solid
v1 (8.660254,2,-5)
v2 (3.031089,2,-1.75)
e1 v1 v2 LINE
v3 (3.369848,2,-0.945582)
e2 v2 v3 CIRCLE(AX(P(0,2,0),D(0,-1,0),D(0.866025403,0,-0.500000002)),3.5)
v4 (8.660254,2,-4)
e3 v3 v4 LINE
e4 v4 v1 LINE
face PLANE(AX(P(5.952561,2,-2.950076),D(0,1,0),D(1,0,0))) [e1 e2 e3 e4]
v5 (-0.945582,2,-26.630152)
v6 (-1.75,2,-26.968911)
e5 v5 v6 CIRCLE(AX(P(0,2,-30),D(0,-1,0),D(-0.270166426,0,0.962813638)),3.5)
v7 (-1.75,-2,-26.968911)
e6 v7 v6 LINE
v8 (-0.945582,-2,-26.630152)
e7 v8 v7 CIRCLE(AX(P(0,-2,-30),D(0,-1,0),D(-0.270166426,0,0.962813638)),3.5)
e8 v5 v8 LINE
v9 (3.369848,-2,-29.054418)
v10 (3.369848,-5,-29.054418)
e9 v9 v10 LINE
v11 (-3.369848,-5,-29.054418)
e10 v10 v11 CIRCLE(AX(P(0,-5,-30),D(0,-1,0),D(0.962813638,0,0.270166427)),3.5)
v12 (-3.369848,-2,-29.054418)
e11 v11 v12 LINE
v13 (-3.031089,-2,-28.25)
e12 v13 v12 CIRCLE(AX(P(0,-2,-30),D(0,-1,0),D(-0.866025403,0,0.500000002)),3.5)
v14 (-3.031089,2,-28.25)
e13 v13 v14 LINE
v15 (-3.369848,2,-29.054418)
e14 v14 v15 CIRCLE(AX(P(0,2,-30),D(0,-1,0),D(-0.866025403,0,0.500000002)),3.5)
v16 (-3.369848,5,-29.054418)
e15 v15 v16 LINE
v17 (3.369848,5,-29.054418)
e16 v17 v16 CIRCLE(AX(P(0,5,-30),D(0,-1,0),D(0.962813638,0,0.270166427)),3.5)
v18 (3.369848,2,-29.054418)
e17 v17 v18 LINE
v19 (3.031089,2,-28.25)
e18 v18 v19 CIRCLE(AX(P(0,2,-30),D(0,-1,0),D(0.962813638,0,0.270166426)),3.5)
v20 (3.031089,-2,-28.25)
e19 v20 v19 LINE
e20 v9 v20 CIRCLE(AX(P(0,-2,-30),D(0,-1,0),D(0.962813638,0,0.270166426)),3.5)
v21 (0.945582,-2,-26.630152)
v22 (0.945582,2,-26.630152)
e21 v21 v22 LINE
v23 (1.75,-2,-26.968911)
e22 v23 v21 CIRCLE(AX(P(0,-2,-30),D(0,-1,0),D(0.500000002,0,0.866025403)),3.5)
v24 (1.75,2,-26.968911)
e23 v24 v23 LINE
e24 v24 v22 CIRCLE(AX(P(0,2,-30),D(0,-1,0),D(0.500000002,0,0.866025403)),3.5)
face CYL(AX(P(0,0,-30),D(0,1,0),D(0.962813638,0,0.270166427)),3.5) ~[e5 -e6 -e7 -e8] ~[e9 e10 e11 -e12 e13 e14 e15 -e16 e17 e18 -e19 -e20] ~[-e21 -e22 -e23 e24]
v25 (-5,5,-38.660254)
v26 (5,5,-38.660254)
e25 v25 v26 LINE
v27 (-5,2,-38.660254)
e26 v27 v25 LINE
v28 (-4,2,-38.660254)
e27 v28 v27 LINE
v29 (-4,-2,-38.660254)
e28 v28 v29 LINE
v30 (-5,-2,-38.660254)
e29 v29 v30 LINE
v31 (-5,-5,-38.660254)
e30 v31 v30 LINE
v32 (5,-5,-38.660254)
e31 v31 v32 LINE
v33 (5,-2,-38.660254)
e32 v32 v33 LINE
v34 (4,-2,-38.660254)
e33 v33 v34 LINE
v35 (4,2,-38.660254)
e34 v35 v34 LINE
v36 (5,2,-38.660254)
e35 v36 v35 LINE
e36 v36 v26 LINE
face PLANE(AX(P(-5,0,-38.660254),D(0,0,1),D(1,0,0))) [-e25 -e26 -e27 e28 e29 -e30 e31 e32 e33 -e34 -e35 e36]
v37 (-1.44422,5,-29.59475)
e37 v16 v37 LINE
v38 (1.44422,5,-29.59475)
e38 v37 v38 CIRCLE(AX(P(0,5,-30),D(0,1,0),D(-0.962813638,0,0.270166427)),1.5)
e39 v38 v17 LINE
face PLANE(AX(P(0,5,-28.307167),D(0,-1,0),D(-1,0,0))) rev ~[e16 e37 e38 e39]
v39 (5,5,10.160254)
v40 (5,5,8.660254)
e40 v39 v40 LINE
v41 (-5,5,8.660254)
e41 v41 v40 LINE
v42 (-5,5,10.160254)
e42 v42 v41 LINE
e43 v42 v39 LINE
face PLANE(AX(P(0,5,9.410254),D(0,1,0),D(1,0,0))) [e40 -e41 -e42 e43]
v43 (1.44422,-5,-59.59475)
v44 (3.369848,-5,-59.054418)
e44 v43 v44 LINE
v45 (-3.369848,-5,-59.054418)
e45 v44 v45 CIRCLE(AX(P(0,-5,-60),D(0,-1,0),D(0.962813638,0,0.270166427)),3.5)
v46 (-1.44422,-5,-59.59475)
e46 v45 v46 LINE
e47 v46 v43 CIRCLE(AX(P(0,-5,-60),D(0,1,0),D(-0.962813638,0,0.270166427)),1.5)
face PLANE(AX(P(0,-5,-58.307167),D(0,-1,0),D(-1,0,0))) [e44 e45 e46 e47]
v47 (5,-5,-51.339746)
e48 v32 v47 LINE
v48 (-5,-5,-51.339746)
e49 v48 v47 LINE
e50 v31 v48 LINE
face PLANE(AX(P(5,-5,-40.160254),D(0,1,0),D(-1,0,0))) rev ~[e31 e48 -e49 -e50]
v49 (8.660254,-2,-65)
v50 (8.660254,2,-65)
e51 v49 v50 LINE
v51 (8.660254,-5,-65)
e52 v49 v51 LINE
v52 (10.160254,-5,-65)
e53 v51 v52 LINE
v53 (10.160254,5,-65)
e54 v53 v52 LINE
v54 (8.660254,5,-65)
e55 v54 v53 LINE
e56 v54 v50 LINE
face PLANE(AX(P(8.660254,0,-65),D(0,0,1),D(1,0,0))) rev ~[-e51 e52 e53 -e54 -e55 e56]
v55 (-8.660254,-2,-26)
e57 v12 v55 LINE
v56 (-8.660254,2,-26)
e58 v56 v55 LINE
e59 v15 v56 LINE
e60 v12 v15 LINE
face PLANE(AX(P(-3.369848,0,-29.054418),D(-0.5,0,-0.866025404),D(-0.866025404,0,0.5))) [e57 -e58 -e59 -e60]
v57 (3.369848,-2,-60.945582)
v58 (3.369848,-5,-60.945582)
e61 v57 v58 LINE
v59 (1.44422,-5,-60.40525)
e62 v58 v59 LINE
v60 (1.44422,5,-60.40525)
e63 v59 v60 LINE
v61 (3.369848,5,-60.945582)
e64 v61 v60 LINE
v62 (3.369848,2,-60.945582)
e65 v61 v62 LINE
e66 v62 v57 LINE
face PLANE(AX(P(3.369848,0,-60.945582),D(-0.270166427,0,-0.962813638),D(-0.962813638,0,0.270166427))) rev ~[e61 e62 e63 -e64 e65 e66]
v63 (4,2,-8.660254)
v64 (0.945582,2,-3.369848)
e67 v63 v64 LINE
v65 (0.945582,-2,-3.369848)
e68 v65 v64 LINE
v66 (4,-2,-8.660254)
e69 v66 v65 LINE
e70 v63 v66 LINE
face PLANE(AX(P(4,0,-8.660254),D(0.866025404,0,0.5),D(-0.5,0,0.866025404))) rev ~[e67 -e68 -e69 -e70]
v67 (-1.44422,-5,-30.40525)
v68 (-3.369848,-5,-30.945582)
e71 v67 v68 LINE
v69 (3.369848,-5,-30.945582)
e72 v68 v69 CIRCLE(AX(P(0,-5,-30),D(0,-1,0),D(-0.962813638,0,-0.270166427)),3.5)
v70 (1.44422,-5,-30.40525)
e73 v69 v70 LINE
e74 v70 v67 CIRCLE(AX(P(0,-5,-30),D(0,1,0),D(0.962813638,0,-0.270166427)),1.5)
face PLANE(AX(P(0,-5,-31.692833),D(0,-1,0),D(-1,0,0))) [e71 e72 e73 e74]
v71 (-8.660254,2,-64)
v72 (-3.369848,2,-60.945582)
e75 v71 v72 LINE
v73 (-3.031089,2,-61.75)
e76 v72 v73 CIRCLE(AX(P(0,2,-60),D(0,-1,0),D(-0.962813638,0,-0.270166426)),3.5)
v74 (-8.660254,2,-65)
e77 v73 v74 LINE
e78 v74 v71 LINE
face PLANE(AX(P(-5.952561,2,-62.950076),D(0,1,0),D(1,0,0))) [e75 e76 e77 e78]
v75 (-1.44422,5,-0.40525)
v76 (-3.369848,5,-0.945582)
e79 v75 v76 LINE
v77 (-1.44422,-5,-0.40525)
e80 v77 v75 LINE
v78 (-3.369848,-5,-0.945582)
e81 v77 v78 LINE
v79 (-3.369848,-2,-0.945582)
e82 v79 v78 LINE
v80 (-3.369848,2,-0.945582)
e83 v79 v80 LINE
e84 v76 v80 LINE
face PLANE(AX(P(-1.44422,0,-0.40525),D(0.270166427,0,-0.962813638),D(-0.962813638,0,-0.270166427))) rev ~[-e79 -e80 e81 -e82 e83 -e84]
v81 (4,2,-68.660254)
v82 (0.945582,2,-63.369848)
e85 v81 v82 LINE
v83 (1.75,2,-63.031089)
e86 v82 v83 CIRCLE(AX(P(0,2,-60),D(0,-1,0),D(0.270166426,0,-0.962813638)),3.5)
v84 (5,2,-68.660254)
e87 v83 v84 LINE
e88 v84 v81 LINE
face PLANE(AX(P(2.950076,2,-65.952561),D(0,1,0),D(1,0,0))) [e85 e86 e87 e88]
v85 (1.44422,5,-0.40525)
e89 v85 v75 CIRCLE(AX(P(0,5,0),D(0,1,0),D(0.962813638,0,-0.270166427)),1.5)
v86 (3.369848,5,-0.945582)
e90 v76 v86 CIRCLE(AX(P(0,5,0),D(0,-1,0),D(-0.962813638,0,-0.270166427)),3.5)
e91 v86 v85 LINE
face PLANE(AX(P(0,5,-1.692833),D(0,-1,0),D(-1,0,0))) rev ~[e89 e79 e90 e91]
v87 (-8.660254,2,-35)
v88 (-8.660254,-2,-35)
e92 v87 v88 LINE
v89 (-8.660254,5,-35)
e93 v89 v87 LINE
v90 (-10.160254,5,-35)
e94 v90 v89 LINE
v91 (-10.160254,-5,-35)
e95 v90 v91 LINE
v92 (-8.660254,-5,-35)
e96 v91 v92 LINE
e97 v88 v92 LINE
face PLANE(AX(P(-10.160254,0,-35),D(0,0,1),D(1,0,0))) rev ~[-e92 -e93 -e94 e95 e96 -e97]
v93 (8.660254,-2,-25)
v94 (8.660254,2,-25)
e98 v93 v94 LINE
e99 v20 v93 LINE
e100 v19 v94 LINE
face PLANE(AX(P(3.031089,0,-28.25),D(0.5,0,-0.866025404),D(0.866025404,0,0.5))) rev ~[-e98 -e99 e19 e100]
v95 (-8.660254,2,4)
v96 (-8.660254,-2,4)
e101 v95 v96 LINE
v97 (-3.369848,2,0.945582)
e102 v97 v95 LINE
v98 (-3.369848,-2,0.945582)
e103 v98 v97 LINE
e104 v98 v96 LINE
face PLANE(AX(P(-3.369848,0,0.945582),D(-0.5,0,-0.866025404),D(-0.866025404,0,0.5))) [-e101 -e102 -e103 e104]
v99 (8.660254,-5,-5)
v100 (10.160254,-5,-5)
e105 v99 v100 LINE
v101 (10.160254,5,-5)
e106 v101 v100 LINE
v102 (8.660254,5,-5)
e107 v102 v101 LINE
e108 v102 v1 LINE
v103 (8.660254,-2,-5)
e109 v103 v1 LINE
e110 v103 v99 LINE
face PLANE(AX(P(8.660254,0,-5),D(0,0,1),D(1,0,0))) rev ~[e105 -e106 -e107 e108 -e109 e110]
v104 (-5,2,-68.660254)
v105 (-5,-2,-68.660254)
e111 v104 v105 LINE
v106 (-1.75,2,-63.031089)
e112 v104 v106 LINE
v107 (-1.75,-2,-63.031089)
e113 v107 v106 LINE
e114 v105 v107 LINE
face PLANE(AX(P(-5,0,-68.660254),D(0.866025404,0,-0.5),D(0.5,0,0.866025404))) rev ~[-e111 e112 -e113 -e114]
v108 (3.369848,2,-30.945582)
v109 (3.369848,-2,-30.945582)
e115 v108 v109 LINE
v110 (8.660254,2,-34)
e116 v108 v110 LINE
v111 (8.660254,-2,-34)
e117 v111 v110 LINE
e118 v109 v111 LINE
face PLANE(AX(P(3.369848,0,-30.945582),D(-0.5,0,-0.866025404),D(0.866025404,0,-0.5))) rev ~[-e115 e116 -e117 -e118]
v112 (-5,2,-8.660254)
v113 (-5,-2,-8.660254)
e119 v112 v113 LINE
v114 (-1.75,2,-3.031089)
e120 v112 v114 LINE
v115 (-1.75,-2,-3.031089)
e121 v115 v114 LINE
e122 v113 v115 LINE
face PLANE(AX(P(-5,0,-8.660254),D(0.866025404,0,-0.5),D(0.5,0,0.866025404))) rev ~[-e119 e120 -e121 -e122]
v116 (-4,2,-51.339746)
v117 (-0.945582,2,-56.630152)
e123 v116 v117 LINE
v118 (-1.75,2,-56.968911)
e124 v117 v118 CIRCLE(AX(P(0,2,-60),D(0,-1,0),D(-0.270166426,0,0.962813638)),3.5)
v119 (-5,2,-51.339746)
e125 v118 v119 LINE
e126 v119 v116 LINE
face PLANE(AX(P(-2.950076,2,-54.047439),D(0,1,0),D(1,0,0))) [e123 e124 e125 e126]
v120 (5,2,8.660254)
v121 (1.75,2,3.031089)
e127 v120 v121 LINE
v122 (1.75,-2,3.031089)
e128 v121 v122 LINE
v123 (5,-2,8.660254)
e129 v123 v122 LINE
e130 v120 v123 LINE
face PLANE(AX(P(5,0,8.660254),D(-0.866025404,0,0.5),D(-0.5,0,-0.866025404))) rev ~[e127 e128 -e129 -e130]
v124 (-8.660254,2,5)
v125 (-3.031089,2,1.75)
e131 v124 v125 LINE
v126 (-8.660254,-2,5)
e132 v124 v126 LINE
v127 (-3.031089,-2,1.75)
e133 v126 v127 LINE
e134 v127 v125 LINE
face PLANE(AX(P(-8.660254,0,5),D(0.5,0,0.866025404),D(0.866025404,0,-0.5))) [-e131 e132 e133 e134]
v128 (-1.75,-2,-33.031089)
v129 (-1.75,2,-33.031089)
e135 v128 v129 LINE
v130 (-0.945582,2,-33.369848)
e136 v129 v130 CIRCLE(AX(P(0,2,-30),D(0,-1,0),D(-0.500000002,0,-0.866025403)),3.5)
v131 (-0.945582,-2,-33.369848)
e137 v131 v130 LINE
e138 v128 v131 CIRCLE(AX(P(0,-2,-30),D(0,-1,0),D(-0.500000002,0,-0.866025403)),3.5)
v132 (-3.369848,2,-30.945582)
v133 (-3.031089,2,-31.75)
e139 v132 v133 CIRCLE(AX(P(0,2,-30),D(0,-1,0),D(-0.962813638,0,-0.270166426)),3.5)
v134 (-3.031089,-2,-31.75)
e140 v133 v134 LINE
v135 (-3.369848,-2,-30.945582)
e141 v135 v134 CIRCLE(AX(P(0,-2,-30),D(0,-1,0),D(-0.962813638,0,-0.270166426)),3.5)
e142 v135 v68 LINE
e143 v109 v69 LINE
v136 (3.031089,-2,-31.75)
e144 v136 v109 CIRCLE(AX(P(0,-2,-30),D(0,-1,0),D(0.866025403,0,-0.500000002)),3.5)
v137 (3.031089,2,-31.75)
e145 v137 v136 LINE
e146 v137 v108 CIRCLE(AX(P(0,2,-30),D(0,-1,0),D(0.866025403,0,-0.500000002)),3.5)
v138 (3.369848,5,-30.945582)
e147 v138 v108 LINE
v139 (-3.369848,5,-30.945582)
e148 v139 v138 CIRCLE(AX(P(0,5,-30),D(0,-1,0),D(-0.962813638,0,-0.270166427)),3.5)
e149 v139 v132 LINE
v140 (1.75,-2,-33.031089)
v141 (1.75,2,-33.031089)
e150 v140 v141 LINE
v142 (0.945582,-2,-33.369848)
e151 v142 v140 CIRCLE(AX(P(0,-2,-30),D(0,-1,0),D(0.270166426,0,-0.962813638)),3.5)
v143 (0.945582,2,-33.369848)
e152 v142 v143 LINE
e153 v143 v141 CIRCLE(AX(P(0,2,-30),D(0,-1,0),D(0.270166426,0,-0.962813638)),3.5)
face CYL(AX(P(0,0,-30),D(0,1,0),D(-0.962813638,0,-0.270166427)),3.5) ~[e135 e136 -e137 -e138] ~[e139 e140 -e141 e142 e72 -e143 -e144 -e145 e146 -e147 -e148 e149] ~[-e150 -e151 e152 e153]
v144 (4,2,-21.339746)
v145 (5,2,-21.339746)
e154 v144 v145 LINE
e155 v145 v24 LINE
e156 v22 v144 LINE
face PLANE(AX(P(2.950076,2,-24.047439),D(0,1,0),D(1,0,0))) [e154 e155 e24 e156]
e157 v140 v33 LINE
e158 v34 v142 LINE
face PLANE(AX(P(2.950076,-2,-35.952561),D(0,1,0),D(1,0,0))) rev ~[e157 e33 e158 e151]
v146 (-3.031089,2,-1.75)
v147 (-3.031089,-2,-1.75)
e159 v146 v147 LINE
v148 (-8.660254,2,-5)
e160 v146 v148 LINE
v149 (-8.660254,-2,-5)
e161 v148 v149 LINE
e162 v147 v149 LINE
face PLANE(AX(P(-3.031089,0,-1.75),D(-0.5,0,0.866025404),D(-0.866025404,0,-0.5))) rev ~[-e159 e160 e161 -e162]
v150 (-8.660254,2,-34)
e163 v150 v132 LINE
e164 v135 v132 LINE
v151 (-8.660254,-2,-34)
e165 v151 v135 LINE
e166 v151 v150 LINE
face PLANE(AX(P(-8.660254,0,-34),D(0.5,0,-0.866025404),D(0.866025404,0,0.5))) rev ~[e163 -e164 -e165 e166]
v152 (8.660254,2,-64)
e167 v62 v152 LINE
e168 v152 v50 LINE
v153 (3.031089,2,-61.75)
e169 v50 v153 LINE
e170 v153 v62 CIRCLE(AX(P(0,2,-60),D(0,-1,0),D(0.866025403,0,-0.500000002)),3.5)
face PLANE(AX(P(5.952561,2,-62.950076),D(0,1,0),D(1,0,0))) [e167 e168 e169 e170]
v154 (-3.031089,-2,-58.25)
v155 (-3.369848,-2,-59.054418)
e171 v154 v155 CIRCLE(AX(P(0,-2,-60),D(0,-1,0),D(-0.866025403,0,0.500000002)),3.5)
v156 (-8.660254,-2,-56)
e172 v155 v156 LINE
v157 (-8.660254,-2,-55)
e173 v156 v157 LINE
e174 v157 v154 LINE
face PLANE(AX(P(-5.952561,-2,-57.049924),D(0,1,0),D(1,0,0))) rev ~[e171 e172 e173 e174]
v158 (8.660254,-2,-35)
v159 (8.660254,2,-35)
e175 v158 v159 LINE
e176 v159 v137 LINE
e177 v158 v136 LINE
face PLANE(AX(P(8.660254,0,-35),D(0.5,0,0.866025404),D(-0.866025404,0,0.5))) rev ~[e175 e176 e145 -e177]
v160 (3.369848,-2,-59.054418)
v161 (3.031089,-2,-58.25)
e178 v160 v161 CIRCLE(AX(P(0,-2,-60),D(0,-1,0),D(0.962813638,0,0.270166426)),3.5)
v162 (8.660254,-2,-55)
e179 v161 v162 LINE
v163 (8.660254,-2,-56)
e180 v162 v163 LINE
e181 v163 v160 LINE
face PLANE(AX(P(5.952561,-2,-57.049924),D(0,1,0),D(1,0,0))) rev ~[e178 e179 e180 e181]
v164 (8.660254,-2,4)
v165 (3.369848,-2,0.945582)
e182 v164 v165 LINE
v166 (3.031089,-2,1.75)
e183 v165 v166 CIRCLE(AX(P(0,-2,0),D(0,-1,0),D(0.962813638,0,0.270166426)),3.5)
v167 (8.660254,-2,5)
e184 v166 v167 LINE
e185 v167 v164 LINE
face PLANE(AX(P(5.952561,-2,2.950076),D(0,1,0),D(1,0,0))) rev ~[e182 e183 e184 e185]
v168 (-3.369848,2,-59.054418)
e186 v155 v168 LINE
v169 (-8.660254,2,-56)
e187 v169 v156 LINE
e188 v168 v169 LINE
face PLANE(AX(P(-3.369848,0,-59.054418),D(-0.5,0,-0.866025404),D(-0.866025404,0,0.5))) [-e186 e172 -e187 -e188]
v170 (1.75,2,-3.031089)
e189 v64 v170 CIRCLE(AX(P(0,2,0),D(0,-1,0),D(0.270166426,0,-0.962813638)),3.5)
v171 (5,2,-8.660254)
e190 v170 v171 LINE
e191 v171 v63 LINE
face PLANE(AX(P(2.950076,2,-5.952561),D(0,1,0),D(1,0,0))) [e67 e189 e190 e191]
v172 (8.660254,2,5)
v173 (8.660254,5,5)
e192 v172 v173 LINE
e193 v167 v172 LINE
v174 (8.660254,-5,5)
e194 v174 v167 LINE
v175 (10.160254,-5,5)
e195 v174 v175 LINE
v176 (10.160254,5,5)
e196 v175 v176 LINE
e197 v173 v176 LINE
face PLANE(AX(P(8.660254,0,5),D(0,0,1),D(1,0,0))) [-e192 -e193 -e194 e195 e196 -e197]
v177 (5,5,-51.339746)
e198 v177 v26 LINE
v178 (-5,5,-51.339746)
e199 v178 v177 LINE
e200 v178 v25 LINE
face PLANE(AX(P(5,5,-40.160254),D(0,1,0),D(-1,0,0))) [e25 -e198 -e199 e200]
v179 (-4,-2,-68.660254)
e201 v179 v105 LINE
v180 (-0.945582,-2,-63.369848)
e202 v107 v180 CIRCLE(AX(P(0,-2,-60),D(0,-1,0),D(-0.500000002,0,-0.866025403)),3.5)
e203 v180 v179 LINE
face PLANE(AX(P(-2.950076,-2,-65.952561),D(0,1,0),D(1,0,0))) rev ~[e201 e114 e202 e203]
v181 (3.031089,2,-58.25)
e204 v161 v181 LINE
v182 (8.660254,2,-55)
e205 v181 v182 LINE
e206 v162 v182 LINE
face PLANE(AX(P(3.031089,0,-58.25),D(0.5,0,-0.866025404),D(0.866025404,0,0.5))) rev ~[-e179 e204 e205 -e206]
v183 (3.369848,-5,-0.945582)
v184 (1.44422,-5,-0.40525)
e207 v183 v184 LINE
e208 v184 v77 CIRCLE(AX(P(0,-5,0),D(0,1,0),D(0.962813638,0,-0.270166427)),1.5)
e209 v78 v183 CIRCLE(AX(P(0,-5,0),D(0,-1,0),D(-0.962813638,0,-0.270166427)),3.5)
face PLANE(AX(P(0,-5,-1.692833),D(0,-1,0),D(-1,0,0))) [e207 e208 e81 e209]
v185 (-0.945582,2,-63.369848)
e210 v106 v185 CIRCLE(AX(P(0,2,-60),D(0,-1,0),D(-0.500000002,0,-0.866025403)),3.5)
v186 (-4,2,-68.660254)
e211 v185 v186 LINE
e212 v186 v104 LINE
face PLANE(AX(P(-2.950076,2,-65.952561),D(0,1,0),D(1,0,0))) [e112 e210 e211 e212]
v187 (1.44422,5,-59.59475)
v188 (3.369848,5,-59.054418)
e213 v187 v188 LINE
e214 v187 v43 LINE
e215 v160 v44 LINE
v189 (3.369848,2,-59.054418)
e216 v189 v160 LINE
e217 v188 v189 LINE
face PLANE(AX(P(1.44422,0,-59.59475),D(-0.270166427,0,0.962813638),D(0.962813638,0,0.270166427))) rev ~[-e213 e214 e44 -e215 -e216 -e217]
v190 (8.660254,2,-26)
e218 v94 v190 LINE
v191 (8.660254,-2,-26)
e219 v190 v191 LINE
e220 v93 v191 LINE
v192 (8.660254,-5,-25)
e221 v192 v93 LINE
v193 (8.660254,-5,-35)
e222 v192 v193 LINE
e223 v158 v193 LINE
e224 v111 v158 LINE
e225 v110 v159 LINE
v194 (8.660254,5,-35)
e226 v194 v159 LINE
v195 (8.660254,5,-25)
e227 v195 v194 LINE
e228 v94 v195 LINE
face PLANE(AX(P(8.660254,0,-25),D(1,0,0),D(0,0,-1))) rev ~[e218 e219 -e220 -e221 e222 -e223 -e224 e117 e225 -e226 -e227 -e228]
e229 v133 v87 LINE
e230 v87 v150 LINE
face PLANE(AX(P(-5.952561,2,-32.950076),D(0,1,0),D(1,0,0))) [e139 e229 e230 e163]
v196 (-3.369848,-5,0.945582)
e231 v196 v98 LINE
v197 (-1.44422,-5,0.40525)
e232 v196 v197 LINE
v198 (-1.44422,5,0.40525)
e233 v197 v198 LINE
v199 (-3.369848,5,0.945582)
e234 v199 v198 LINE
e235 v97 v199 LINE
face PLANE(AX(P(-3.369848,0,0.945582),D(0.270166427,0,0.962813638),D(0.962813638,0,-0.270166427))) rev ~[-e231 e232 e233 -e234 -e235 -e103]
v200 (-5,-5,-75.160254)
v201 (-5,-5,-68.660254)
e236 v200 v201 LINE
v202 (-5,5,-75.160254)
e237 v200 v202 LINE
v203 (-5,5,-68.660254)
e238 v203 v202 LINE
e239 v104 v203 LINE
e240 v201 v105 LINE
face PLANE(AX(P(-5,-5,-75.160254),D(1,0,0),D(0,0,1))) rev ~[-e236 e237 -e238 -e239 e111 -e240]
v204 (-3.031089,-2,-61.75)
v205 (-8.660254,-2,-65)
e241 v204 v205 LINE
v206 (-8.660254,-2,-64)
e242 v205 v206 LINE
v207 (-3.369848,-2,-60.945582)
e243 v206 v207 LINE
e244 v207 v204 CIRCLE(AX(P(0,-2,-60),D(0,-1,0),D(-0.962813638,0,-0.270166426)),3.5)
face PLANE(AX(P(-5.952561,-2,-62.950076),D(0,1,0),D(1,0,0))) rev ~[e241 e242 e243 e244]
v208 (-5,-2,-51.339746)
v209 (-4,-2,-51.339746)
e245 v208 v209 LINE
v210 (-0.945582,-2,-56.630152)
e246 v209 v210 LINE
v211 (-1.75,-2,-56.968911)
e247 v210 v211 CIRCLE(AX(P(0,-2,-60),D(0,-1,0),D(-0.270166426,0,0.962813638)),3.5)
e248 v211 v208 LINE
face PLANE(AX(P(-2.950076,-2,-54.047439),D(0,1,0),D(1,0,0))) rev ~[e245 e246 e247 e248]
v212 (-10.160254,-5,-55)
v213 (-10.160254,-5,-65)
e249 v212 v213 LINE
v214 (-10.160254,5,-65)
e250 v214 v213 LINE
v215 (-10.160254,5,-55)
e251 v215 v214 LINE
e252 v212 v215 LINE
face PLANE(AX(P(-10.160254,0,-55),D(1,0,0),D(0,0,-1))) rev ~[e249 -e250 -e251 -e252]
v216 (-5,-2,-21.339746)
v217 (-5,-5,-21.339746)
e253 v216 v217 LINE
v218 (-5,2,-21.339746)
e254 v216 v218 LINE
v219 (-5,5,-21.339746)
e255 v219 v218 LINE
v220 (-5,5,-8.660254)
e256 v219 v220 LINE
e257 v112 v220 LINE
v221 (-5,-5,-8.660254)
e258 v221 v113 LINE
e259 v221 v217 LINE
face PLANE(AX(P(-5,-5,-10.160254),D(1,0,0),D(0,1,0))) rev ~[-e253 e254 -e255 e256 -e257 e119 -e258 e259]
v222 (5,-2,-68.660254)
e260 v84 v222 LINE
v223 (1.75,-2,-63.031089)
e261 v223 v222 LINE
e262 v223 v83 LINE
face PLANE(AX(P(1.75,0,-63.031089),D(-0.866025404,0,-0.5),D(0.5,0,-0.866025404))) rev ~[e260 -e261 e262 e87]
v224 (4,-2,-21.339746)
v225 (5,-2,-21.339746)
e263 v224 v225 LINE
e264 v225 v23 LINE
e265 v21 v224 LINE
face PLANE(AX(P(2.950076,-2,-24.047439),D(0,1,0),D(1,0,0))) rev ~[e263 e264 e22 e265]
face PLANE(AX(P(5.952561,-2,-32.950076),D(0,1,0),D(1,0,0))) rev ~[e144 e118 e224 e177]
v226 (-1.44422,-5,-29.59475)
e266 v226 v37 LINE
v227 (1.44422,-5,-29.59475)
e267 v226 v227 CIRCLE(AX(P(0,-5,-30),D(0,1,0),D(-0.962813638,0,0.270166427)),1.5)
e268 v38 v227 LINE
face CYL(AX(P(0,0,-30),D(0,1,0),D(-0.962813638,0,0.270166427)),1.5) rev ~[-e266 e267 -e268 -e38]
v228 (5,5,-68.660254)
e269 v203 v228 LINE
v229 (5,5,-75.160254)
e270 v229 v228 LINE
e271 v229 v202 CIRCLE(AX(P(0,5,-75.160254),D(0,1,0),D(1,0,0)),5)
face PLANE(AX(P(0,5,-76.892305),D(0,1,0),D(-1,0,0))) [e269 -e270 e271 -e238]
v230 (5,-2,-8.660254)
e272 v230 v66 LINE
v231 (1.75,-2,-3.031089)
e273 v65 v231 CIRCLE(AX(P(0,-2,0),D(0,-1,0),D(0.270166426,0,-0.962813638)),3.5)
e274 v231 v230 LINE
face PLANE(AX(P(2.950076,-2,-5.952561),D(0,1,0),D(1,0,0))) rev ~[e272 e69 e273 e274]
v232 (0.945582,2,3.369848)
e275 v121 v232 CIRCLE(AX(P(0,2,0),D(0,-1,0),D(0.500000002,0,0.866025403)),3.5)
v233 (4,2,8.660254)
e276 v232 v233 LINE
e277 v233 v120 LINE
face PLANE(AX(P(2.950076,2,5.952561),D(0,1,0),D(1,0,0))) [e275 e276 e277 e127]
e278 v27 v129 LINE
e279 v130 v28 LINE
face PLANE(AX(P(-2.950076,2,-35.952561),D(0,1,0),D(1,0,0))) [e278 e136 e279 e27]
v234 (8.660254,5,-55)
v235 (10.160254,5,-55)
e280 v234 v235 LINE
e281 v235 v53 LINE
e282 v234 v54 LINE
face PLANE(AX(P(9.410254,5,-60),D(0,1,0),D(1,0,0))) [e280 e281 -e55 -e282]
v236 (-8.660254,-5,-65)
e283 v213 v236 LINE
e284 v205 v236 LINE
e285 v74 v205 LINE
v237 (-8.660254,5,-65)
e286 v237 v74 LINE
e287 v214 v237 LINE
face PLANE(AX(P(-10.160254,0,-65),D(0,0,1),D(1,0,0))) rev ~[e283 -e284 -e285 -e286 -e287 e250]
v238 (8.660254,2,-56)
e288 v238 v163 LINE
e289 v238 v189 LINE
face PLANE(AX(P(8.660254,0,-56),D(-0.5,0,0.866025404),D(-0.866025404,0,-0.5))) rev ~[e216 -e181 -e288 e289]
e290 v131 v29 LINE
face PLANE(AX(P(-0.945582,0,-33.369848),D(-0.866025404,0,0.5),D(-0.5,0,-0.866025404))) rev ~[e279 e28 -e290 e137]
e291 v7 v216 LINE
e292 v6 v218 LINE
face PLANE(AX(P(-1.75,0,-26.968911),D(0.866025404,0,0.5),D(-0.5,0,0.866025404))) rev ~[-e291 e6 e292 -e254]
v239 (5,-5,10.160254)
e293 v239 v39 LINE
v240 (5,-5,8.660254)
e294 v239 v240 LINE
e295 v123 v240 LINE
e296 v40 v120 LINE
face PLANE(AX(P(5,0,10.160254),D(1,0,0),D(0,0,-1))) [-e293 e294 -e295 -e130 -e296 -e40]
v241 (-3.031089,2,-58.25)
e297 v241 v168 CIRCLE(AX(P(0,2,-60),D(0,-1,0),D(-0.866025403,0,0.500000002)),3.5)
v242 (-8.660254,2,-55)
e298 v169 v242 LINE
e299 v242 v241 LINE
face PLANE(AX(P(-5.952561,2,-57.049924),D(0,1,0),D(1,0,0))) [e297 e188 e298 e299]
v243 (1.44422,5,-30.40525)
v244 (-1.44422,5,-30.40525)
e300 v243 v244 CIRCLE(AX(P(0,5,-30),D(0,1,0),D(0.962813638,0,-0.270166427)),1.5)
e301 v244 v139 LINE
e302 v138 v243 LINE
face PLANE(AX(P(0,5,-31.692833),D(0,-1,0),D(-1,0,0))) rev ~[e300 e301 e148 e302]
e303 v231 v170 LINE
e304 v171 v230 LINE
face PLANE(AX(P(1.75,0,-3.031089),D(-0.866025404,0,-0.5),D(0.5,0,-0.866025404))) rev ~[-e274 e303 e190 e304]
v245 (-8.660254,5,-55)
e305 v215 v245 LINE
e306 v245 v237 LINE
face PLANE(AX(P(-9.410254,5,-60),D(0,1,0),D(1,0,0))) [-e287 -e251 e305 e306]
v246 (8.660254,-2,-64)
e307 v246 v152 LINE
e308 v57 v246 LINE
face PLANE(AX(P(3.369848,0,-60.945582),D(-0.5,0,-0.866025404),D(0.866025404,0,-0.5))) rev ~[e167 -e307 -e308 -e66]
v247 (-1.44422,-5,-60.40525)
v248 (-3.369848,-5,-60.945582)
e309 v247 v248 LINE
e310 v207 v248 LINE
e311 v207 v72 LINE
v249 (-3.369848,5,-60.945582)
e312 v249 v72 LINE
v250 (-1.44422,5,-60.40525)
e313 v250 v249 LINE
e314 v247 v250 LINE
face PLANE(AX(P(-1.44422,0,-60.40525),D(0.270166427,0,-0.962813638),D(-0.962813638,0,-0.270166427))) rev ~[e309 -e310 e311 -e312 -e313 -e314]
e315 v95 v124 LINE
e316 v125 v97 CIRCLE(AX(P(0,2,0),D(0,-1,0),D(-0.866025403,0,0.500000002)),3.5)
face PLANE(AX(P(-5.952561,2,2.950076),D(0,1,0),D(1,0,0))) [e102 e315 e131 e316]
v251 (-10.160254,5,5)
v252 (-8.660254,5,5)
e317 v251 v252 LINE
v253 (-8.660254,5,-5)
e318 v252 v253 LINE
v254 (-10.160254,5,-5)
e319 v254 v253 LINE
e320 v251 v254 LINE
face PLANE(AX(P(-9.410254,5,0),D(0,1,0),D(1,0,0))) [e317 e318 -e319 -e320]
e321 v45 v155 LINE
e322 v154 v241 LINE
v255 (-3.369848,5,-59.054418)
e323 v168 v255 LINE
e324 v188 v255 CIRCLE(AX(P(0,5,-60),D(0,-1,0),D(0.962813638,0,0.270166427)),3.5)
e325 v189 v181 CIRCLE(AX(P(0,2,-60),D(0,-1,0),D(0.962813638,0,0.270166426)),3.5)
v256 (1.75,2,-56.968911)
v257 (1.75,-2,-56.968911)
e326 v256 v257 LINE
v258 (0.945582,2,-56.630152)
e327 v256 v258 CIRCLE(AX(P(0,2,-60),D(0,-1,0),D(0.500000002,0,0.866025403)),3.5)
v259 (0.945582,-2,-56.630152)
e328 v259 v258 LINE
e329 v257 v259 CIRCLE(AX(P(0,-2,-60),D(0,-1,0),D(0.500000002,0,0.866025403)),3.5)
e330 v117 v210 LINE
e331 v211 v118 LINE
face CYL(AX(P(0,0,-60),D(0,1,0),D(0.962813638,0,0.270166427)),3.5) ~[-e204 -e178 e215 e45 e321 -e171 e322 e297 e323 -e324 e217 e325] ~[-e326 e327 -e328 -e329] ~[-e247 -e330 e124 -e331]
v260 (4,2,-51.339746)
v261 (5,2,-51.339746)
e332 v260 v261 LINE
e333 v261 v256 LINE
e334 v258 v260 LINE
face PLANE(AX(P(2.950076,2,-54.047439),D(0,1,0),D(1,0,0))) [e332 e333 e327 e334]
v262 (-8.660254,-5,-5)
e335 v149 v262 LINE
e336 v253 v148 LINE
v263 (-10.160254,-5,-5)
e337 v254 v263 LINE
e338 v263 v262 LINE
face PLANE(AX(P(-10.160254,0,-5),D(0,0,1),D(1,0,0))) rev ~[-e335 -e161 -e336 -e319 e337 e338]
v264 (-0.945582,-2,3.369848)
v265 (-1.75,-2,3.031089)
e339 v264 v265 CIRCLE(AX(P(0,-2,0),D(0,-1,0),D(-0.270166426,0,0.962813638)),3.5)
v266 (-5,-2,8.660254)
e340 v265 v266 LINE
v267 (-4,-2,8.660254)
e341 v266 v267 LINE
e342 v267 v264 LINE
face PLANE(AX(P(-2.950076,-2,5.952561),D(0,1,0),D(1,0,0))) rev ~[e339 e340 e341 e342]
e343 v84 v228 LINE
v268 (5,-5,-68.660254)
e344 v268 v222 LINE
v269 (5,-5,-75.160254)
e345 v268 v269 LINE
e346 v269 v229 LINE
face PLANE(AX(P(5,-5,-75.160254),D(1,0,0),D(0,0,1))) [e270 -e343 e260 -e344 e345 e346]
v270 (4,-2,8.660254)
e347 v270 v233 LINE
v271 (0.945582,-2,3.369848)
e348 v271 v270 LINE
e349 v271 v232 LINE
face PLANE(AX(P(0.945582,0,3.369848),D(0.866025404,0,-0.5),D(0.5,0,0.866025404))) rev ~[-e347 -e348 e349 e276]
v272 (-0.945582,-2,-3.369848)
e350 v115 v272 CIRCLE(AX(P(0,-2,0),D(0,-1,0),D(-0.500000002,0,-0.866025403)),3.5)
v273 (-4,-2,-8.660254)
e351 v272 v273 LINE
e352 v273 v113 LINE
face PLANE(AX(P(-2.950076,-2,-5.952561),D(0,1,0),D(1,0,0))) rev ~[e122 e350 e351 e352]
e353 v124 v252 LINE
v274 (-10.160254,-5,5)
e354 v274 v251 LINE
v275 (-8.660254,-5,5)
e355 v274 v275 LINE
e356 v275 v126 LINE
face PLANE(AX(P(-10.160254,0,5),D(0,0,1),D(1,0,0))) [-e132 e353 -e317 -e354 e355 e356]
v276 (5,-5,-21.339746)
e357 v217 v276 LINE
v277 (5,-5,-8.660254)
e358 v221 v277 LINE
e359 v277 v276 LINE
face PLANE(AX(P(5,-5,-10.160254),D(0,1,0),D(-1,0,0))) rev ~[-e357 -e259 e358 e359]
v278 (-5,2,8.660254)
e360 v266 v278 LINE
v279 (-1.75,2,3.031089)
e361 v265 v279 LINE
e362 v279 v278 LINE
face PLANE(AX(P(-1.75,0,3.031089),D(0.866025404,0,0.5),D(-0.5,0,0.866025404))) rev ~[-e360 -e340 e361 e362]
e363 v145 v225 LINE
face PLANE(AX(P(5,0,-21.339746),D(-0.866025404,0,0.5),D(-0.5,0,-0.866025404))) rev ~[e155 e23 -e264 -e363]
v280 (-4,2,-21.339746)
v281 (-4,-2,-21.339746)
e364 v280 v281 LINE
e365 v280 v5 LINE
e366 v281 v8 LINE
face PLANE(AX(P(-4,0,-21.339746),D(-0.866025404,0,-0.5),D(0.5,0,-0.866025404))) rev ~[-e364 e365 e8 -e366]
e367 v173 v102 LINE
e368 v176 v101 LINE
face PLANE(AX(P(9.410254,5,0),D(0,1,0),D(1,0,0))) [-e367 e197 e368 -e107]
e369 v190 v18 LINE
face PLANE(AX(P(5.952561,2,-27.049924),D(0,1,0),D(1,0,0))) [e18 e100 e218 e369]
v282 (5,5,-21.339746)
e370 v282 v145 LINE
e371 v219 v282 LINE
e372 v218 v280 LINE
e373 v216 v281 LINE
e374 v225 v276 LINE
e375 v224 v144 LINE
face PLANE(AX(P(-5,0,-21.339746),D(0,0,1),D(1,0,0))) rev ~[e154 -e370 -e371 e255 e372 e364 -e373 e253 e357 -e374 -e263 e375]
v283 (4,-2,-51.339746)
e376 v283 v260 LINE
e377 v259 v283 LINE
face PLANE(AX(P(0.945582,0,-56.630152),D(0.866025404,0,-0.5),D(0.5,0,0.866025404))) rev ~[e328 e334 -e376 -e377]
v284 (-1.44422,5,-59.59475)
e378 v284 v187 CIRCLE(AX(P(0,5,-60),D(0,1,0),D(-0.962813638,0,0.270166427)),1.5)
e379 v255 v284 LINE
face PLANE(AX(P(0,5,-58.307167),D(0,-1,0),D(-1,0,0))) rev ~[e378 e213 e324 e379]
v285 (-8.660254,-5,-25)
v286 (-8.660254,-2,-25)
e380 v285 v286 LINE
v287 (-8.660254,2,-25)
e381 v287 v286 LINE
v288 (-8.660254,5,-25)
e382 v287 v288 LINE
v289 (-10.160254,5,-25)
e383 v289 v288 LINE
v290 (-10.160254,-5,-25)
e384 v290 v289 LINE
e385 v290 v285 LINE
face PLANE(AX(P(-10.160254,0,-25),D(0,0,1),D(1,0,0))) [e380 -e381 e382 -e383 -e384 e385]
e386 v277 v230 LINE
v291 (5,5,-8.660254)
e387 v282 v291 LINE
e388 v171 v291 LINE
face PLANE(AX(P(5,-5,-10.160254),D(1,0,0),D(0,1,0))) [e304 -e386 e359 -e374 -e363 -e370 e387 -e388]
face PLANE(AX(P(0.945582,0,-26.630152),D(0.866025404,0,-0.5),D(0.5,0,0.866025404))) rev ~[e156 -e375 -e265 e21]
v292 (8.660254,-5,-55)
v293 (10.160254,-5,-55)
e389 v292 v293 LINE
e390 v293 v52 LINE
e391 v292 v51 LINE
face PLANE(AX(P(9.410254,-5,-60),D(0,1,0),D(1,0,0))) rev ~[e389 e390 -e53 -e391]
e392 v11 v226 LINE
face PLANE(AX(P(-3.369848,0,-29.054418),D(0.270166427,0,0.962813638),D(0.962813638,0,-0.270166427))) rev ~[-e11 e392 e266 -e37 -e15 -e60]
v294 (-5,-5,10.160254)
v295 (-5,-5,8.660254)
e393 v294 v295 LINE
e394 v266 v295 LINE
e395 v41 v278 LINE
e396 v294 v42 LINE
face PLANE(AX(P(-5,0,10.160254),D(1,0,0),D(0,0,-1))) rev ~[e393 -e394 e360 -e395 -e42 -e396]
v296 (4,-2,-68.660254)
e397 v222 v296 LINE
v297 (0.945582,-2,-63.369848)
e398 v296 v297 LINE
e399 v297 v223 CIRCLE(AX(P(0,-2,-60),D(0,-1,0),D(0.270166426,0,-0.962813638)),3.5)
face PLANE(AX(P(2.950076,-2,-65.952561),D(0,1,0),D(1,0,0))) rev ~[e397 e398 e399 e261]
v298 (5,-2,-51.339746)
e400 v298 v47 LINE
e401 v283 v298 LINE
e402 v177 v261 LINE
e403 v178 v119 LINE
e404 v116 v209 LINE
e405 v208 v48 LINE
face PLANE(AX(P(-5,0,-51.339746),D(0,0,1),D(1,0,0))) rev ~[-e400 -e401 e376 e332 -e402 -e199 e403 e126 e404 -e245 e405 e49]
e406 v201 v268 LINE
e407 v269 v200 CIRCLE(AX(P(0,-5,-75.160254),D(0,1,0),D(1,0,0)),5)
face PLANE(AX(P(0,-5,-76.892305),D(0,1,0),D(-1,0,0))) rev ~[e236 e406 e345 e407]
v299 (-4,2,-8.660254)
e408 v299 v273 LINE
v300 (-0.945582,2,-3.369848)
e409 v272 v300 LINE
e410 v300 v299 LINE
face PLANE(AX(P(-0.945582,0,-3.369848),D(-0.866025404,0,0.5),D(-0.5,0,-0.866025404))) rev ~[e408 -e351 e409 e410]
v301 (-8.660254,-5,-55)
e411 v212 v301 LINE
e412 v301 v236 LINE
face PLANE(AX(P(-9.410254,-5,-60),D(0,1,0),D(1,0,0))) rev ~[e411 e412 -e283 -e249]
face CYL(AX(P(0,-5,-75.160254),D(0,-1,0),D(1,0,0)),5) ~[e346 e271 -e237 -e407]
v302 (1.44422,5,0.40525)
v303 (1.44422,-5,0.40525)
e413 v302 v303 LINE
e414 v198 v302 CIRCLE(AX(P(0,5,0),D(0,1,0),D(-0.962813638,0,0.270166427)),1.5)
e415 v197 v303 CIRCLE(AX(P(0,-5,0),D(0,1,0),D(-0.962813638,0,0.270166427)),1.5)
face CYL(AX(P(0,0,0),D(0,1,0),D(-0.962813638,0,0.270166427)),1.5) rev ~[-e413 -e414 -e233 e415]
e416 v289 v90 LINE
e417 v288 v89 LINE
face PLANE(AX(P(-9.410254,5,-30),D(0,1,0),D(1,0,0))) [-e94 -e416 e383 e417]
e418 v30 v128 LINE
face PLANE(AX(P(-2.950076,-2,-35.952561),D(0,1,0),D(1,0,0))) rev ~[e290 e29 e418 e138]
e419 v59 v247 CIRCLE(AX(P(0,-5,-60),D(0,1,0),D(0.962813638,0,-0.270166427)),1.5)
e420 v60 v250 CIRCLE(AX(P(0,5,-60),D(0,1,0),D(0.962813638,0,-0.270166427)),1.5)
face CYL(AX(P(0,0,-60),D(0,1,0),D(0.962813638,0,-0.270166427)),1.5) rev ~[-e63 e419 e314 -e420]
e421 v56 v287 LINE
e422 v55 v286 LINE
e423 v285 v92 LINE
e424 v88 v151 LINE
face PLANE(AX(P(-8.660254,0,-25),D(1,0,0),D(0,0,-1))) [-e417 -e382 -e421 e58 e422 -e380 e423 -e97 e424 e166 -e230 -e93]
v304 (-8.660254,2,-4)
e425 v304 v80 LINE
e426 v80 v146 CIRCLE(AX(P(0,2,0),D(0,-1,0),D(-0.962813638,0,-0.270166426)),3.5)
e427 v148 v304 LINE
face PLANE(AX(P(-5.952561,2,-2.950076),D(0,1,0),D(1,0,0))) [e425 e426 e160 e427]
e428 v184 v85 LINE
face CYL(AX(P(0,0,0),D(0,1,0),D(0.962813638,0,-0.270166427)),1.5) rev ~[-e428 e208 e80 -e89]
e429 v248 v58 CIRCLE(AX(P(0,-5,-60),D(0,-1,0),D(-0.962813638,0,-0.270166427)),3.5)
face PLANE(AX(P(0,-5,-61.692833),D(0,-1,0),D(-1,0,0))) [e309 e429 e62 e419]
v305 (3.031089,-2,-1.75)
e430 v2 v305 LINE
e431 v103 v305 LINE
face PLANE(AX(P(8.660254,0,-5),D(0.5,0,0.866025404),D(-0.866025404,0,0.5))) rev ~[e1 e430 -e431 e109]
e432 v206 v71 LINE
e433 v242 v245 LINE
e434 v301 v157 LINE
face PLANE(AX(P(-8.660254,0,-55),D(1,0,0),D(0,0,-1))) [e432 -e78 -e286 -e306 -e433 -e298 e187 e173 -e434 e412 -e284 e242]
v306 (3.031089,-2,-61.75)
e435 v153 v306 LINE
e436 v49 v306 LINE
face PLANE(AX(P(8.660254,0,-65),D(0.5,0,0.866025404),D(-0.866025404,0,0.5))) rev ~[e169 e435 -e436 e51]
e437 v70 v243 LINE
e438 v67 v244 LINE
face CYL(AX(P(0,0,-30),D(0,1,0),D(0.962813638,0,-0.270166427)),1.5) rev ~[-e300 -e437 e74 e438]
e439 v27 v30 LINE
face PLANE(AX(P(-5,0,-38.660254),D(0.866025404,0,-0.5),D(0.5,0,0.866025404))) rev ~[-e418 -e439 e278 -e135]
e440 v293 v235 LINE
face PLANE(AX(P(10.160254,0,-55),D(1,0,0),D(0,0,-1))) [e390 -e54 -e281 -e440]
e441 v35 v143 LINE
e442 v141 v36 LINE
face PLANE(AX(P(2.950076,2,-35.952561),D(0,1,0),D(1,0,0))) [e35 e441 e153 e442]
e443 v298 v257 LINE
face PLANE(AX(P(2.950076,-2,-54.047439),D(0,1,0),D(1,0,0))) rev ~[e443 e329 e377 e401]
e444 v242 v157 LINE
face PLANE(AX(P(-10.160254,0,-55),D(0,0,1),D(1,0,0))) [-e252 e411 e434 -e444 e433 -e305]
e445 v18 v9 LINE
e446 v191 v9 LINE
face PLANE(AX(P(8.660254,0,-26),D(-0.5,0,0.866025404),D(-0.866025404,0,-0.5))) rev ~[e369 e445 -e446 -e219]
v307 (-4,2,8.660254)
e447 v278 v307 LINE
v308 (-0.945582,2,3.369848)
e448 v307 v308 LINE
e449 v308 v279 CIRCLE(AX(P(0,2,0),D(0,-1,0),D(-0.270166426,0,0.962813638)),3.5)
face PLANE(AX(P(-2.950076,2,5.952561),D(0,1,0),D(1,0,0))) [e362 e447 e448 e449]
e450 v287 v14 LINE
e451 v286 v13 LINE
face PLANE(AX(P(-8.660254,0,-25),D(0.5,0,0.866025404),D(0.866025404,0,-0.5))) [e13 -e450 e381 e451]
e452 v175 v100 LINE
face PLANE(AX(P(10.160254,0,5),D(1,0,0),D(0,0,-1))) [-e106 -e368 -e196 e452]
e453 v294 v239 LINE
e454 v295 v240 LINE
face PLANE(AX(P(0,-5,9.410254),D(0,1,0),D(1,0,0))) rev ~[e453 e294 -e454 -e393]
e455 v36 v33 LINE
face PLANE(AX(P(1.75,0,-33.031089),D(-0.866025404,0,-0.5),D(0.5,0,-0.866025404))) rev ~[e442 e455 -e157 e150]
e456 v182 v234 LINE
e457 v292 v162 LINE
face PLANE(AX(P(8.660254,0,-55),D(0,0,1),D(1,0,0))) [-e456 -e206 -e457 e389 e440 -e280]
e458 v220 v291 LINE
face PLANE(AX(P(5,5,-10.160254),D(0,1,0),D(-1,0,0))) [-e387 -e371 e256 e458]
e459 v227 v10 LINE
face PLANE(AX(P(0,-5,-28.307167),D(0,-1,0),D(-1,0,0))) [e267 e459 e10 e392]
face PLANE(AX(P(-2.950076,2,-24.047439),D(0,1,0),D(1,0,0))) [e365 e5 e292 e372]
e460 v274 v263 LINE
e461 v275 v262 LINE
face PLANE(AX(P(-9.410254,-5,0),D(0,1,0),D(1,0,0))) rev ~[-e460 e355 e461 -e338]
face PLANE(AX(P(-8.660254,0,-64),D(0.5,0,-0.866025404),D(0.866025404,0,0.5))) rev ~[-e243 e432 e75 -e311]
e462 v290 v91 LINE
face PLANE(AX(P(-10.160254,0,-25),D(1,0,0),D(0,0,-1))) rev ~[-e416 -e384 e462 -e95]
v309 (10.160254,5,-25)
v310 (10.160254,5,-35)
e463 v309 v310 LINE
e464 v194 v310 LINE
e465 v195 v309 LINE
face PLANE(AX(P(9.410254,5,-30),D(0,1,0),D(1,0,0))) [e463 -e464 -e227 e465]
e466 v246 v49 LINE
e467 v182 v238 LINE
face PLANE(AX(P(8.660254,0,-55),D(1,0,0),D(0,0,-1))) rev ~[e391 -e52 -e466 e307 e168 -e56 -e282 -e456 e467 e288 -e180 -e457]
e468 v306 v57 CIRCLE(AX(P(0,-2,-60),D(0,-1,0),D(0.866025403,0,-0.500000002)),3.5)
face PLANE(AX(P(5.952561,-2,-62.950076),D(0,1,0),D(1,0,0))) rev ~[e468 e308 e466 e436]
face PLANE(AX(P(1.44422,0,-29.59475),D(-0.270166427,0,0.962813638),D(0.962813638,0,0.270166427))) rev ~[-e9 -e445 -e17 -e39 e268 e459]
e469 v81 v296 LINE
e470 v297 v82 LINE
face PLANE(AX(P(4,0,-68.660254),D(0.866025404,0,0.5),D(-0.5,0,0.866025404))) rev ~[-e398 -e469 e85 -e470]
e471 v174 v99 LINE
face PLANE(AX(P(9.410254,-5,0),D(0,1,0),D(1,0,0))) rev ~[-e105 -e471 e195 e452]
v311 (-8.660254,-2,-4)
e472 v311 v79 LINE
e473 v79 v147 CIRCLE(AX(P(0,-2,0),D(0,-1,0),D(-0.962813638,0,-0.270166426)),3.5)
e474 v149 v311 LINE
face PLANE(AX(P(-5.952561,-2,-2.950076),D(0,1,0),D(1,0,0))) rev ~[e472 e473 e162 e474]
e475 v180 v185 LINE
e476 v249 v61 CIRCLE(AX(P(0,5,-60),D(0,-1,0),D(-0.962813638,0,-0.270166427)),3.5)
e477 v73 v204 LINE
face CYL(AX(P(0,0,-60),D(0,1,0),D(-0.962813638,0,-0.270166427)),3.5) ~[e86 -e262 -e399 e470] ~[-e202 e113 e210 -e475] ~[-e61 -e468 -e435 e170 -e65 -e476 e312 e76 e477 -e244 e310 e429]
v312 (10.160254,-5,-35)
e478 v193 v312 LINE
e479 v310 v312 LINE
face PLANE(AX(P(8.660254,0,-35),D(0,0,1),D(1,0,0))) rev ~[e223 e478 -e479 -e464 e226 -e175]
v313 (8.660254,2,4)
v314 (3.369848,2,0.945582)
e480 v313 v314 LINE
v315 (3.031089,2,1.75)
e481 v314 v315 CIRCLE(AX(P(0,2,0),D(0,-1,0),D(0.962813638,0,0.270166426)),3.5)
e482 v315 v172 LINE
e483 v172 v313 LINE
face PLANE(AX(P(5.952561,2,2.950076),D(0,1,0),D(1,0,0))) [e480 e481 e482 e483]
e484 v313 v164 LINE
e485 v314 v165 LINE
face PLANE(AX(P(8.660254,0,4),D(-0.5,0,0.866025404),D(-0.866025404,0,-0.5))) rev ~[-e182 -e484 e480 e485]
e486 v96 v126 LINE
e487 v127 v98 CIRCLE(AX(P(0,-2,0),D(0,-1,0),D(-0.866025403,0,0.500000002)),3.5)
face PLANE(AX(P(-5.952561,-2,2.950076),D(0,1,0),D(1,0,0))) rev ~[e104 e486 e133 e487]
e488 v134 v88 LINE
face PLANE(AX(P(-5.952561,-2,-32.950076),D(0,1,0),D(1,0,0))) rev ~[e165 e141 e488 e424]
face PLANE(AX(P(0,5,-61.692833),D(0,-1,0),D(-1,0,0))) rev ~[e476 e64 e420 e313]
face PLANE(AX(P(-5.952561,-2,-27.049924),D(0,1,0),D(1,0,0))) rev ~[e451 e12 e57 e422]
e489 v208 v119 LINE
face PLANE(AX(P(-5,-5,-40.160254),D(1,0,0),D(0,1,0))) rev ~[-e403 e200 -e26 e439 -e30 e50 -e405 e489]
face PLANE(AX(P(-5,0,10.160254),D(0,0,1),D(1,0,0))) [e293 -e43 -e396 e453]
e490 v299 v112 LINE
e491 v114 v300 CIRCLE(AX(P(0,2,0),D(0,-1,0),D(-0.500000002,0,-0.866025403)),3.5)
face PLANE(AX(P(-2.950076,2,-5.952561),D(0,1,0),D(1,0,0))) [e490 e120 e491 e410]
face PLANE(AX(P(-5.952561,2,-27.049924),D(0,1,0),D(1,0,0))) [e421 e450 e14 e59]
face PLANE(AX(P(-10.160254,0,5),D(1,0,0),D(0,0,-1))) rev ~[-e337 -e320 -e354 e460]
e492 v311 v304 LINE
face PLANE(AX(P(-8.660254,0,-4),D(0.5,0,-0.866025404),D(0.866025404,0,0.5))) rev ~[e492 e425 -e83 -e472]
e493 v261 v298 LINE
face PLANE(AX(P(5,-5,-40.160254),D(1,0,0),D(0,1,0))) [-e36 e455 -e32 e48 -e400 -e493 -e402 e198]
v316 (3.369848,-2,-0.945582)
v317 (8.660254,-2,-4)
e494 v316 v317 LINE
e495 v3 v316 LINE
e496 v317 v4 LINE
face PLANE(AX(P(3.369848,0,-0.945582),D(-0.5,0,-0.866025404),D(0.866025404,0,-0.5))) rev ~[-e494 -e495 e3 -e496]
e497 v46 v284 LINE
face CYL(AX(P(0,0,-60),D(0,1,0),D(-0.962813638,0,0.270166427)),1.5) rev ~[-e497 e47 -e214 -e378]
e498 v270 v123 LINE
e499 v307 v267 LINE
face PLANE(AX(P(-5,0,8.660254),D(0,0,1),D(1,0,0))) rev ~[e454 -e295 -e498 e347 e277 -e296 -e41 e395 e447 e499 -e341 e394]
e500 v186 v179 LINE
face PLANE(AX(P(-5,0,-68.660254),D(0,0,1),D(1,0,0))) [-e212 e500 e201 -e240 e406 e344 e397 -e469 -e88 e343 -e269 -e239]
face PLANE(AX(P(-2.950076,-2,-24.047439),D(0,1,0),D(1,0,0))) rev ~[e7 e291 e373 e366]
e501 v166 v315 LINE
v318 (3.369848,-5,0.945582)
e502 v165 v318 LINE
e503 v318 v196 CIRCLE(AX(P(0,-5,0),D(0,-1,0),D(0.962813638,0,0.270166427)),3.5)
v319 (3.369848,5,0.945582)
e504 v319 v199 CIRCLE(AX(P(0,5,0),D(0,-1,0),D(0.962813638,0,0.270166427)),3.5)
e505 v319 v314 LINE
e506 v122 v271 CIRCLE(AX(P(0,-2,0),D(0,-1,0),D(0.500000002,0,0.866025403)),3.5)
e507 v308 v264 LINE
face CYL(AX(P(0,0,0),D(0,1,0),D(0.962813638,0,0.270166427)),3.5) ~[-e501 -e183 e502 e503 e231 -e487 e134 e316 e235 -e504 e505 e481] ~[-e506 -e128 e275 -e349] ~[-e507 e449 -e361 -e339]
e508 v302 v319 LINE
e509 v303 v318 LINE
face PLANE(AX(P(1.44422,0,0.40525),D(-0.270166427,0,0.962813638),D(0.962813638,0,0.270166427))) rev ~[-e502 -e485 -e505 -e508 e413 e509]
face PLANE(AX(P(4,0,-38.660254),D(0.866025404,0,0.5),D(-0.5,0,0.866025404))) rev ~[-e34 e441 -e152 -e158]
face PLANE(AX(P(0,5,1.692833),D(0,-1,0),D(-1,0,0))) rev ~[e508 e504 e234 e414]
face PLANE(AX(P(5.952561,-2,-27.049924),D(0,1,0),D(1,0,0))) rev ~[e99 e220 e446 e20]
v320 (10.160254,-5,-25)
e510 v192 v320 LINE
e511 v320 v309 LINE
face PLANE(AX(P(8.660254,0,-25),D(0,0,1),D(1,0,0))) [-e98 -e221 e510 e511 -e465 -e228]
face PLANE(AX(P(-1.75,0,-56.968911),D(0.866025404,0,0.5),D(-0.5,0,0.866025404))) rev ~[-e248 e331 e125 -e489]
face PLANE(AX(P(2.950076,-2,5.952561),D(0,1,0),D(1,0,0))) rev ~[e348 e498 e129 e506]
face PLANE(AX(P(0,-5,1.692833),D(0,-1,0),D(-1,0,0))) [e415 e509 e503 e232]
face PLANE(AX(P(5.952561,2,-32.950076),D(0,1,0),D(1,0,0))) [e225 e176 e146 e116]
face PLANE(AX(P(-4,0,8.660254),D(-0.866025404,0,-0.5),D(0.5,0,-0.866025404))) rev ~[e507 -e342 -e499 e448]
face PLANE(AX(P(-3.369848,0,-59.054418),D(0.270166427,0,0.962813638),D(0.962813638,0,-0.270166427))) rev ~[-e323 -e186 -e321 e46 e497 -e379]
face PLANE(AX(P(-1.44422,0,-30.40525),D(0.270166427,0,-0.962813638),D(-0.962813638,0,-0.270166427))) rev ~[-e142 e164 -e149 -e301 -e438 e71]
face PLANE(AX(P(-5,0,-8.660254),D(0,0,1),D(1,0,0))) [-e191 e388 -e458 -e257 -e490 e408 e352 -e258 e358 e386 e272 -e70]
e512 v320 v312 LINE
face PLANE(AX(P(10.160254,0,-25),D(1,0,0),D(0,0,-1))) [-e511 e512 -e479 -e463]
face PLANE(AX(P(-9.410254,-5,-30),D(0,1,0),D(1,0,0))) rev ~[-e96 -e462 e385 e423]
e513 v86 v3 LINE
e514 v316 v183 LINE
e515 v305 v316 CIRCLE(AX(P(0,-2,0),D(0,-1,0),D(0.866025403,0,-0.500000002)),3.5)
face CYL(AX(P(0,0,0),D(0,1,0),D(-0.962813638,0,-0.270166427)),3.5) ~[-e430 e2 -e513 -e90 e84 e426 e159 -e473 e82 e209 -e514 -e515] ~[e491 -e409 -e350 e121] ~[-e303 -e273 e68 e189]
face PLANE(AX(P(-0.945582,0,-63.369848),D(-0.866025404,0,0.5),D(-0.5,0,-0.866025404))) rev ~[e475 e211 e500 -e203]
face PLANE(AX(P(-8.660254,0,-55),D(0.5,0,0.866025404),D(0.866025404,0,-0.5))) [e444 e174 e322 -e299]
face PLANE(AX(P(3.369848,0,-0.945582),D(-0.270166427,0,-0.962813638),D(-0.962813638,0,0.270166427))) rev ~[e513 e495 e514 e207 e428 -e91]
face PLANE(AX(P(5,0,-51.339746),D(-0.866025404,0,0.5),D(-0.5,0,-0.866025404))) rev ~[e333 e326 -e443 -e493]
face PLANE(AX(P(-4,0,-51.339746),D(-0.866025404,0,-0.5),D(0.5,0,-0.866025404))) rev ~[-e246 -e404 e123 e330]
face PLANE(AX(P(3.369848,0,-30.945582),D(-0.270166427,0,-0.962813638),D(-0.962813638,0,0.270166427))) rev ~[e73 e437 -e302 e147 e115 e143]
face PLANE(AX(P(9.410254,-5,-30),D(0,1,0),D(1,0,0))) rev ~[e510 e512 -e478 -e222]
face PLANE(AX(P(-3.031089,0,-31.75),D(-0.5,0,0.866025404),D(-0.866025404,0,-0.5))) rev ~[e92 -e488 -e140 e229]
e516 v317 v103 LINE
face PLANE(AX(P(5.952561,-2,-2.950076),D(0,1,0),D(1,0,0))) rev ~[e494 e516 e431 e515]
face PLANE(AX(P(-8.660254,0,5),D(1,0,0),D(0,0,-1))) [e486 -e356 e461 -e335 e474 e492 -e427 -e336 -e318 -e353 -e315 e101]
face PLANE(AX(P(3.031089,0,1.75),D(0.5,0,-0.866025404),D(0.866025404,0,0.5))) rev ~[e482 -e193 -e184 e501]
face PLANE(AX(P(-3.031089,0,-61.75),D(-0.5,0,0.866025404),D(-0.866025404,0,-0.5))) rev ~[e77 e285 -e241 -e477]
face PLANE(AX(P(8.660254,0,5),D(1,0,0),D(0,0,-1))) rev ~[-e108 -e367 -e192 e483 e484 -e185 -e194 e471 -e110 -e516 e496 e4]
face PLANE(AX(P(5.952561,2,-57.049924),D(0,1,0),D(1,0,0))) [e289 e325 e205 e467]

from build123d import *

# Parameters (mm, degrees)
SKETCH1_W                     = 10
SKETCH1_H                     = 1.5
BASE_BUTTERFLY_BLOCKS_DEPTH   = 5
SKETCH1_W_2                   = 1.5
SKETCH1_H_2                   = 10
BASE_BUTTERFLY_BLOCKS_2_DEPTH = 5
BASE_BUTTERFLY_BLOCKS_3_DEPTH = 5
BASE_BUTTERFLY_BLOCKS_4_DEPTH = 5
BASE_BUTTERFLY_BLOCKS_5_DEPTH = 5
BASE_BUTTERFLY_BLOCKS_6_DEPTH = 5
BASE_BUTTERFLY_FLEXURES_DEPTH = 2
LPATTERN1_COUNT               = 3
LPATTERN1_PITCH               = 30
SKETCH3_W                     = 10
SKETCH3_H                     = 10
PIP_DEPTH                     = 9.679491924
SKETCH5_W                     = 10
SKETCH5_H                     = 10
BOSS_EXTRUDE7_DEPTH           = 9.679491924
SKETCH6_W                     = 10
SKETCH6_H                     = 5
BOSS_EXTRUDE9_DEPTH           = 10


with BuildPart() as part:
    # Sketch1 → base_butterfly_blocks (new, symmetric)
    with BuildSketch(Plane(origin=(0, 0, 0), x_dir=(1, 0, 0), z_dir=(0, 1, 0))):
        with Locations((0, -9.410254038)):
            Rectangle(SKETCH1_W, SKETCH1_H)
    extrude(amount=BASE_BUTTERFLY_BLOCKS_DEPTH, both=True)



with BuildPart() as body_2:
    # Sketch1 → base_butterfly_blocks 2 (new, symmetric)
    with BuildSketch(Plane(origin=(0, 0, 0), x_dir=(1, 0, 0), z_dir=(0, 1, 0))):
        with Locations((-9.410254038, 0)):
            Rectangle(SKETCH1_W_2, SKETCH1_H_2)
    extrude(amount=BASE_BUTTERFLY_BLOCKS_2_DEPTH, both=True)


with BuildPart() as body_3:
    # Sketch1 → base_butterfly_blocks 3 (new, symmetric)
    with BuildSketch(Plane(origin=(0, 0, 0), x_dir=(1, 0, 0), z_dir=(0, 1, 0))):
        with Locations((0, 9.410254038)):
            Rectangle(SKETCH1_W, SKETCH1_H)
    extrude(amount=BASE_BUTTERFLY_BLOCKS_3_DEPTH, both=True)


with BuildPart() as body_4:
    # Sketch1 → base_butterfly_blocks 4 (new, symmetric)
    with BuildSketch(Plane(origin=(0, 0, 0), x_dir=(1, 0, 0), z_dir=(0, 1, 0))):
        with Locations((9.410254038, 0)):
            Rectangle(SKETCH1_W_2, SKETCH1_H_2)
    extrude(amount=BASE_BUTTERFLY_BLOCKS_4_DEPTH, both=True)


with BuildPart() as body_5:
    # Sketch1 → base_butterfly_blocks 5 (new, symmetric)
    with BuildSketch(Plane(origin=(0, 0, 0), x_dir=(1, 0, 0), z_dir=(0, 1, 0))):
        with BuildLine():
            Line((-1.444220457, 0.405249641), (-3.369847733, 0.945582496))
            ThreePointArc((-3.369847733, 0.945582496), (0, 3.5), (3.369847733, 0.945582496))
            Line((3.369847733, 0.945582496), (1.444220457, 0.405249641))
            ThreePointArc((1.444220457, 0.405249641), (0, 1.5), (-1.444220457, 0.405249641))
        make_face()
    extrude(amount=BASE_BUTTERFLY_BLOCKS_5_DEPTH, both=True)


with BuildPart() as body_6:
    # Sketch1 → base_butterfly_blocks 6 (new, symmetric)
    with BuildSketch(Plane(origin=(0, 0, 0), x_dir=(1, 0, 0), z_dir=(0, 1, 0))):
        with BuildLine():
            ThreePointArc((-1.444220457, -0.405249641), (0, -1.5), (1.444220457, -0.405249641))
            Line((1.444220457, -0.405249641), (3.369847733, -0.945582496))
            ThreePointArc((3.369847733, -0.945582496), (0, -3.5), (-3.369847733, -0.945582496))
            Line((-3.369847733, -0.945582496), (-1.444220457, -0.405249641))
        make_face()
    extrude(amount=BASE_BUTTERFLY_BLOCKS_6_DEPTH, both=True)


with BuildPart() as part_1:
    add(part.part)

    add(body_2.part)  # base_butterfly_flexures merges body 2

    add(body_3.part)  # base_butterfly_flexures merges body 3

    add(body_4.part)  # base_butterfly_flexures merges body 4

    add(body_5.part)  # base_butterfly_flexures merges body 5

    add(body_6.part)  # base_butterfly_flexures merges body 6
    # Sketch1<4> → base_butterfly_flexures (add, symmetric)
    with BuildSketch(Plane(origin=(0, 0, 0), x_dir=(1, 0, 0), z_dir=(0, 1, 0))):
        with BuildLine():
            Line((-8.660254038, 5), (-8.660254038, 4))
            Line((-8.660254038, 4), (-3.369847733, 0.945582496))
            ThreePointArc((-3.369847733, 0.945582496), (-3.225642474, 1.358392665), (-3.031088913, 1.75))
            Line((-3.031088913, 1.75), (-8.660254038, 5))
        make_face()
        with BuildLine():
            Line((-5, 8.660254038), (-1.75, 3.031088913))
            ThreePointArc((-1.75, 3.031088913), (-1.358392665, 3.225642474), (-0.945582496, 3.369847733))
            Line((-0.945582496, 3.369847733), (-4, 8.660254038))
            Line((-4, 8.660254038), (-5, 8.660254038))
        make_face()
        with BuildLine():
            Line((4, 8.660254038), (0.945582496, 3.369847733))
            ThreePointArc((0.945582496, 3.369847733), (1.358392665, 3.225642474), (1.75, 3.031088913))
            Line((1.75, 3.031088913), (5, 8.660254038))
            Line((5, 8.660254038), (4, 8.660254038))
        make_face()
        with BuildLine():
            Line((3.369847733, 0.945582496), (8.660254038, 4))
            Line((8.660254038, 4), (8.660254038, 5))
            Line((8.660254038, 5), (3.031088913, 1.75))
            ThreePointArc((3.031088913, 1.75), (3.225642474, 1.358392665), (3.369847733, 0.945582496))
        make_face()
        with BuildLine():
            ThreePointArc((3.369847733, -0.945582496), (3.225642474, -1.358392665), (3.031088913, -1.75))
            Line((3.031088913, -1.75), (8.660254038, -5))
            Line((8.660254038, -5), (8.660254038, -4))
            Line((8.660254038, -4), (3.369847733, -0.945582496))
        make_face()
        with BuildLine():
            ThreePointArc((1.75, -3.031088913), (1.358392665, -3.225642474), (0.945582496, -3.369847733))
            Line((0.945582496, -3.369847733), (4, -8.660254038))
            Line((4, -8.660254038), (5, -8.660254038))
            Line((5, -8.660254038), (1.75, -3.031088913))
        make_face()
        with BuildLine():
            ThreePointArc((-0.945582496, -3.369847733), (-1.358392665, -3.225642474), (-1.75, -3.031088913))
            Line((-1.75, -3.031088913), (-5, -8.660254038))
            Line((-5, -8.660254038), (-4, -8.660254038))
            Line((-4, -8.660254038), (-0.945582496, -3.369847733))
        make_face()
        with BuildLine():
            Line((-8.660254038, -5), (-3.031088913, -1.75))
            ThreePointArc((-3.031088913, -1.75), (-3.225642474, -1.358392665), (-3.369847733, -0.945582496))
            Line((-3.369847733, -0.945582496), (-8.660254038, -4))
            Line((-8.660254038, -4), (-8.660254038, -5))
        make_face()
    extrude(amount=BASE_BUTTERFLY_FLEXURES_DEPTH, both=True)


with BuildPart() as lpattern1_1:
    # LPattern1: pattern copy
    add(part_1.part.moved(Location(Vector(0, 0, -1) * (1 * LPATTERN1_PITCH))))


with BuildPart() as lpattern1_2:
    # LPattern1: pattern copy
    add(part_1.part.moved(Location(Vector(0, 0, -1) * (2 * LPATTERN1_PITCH))))


with BuildPart() as part_2:
    add(part_1.part)

    add(lpattern1_1.part)  # PIP merges LPattern1_1
    # Sketch3 → PIP (add)
    with BuildSketch(Plane(origin=(0, 0, -10.160254038), x_dir=(-1, 0, 0), z_dir=(0, 0, -1))):
        Rectangle(SKETCH3_W, SKETCH3_H)
    extrude(amount=PIP_DEPTH)

    add(lpattern1_2.part)  # Boss-Extrude7 merges LPattern1_2
    # Sketch5 → Boss-Extrude7 (add)
    with BuildSketch(Plane(origin=(0, 0, -40.160254038), x_dir=(-1, 0, 0), z_dir=(0, 0, -1))):
        Rectangle(SKETCH5_W, SKETCH5_H)
    extrude(amount=BOSS_EXTRUDE7_DEPTH)

    # Sketch6 → Boss-Extrude9 (add)
    with BuildSketch(Plane.XZ.offset(5)):
        with BuildLine():
            Line((-5, -75.160254038), (5, -75.160254038))
            ThreePointArc((5, -75.160254038), (0, -80.160254038), (-5, -75.160254038))
        make_face()
        with Locations((0, -72.660254038)):
            Rectangle(SKETCH6_W, SKETCH6_H)
    extrude(amount=-BOSS_EXTRUDE9_DEPTH)


solid = part_2.part
